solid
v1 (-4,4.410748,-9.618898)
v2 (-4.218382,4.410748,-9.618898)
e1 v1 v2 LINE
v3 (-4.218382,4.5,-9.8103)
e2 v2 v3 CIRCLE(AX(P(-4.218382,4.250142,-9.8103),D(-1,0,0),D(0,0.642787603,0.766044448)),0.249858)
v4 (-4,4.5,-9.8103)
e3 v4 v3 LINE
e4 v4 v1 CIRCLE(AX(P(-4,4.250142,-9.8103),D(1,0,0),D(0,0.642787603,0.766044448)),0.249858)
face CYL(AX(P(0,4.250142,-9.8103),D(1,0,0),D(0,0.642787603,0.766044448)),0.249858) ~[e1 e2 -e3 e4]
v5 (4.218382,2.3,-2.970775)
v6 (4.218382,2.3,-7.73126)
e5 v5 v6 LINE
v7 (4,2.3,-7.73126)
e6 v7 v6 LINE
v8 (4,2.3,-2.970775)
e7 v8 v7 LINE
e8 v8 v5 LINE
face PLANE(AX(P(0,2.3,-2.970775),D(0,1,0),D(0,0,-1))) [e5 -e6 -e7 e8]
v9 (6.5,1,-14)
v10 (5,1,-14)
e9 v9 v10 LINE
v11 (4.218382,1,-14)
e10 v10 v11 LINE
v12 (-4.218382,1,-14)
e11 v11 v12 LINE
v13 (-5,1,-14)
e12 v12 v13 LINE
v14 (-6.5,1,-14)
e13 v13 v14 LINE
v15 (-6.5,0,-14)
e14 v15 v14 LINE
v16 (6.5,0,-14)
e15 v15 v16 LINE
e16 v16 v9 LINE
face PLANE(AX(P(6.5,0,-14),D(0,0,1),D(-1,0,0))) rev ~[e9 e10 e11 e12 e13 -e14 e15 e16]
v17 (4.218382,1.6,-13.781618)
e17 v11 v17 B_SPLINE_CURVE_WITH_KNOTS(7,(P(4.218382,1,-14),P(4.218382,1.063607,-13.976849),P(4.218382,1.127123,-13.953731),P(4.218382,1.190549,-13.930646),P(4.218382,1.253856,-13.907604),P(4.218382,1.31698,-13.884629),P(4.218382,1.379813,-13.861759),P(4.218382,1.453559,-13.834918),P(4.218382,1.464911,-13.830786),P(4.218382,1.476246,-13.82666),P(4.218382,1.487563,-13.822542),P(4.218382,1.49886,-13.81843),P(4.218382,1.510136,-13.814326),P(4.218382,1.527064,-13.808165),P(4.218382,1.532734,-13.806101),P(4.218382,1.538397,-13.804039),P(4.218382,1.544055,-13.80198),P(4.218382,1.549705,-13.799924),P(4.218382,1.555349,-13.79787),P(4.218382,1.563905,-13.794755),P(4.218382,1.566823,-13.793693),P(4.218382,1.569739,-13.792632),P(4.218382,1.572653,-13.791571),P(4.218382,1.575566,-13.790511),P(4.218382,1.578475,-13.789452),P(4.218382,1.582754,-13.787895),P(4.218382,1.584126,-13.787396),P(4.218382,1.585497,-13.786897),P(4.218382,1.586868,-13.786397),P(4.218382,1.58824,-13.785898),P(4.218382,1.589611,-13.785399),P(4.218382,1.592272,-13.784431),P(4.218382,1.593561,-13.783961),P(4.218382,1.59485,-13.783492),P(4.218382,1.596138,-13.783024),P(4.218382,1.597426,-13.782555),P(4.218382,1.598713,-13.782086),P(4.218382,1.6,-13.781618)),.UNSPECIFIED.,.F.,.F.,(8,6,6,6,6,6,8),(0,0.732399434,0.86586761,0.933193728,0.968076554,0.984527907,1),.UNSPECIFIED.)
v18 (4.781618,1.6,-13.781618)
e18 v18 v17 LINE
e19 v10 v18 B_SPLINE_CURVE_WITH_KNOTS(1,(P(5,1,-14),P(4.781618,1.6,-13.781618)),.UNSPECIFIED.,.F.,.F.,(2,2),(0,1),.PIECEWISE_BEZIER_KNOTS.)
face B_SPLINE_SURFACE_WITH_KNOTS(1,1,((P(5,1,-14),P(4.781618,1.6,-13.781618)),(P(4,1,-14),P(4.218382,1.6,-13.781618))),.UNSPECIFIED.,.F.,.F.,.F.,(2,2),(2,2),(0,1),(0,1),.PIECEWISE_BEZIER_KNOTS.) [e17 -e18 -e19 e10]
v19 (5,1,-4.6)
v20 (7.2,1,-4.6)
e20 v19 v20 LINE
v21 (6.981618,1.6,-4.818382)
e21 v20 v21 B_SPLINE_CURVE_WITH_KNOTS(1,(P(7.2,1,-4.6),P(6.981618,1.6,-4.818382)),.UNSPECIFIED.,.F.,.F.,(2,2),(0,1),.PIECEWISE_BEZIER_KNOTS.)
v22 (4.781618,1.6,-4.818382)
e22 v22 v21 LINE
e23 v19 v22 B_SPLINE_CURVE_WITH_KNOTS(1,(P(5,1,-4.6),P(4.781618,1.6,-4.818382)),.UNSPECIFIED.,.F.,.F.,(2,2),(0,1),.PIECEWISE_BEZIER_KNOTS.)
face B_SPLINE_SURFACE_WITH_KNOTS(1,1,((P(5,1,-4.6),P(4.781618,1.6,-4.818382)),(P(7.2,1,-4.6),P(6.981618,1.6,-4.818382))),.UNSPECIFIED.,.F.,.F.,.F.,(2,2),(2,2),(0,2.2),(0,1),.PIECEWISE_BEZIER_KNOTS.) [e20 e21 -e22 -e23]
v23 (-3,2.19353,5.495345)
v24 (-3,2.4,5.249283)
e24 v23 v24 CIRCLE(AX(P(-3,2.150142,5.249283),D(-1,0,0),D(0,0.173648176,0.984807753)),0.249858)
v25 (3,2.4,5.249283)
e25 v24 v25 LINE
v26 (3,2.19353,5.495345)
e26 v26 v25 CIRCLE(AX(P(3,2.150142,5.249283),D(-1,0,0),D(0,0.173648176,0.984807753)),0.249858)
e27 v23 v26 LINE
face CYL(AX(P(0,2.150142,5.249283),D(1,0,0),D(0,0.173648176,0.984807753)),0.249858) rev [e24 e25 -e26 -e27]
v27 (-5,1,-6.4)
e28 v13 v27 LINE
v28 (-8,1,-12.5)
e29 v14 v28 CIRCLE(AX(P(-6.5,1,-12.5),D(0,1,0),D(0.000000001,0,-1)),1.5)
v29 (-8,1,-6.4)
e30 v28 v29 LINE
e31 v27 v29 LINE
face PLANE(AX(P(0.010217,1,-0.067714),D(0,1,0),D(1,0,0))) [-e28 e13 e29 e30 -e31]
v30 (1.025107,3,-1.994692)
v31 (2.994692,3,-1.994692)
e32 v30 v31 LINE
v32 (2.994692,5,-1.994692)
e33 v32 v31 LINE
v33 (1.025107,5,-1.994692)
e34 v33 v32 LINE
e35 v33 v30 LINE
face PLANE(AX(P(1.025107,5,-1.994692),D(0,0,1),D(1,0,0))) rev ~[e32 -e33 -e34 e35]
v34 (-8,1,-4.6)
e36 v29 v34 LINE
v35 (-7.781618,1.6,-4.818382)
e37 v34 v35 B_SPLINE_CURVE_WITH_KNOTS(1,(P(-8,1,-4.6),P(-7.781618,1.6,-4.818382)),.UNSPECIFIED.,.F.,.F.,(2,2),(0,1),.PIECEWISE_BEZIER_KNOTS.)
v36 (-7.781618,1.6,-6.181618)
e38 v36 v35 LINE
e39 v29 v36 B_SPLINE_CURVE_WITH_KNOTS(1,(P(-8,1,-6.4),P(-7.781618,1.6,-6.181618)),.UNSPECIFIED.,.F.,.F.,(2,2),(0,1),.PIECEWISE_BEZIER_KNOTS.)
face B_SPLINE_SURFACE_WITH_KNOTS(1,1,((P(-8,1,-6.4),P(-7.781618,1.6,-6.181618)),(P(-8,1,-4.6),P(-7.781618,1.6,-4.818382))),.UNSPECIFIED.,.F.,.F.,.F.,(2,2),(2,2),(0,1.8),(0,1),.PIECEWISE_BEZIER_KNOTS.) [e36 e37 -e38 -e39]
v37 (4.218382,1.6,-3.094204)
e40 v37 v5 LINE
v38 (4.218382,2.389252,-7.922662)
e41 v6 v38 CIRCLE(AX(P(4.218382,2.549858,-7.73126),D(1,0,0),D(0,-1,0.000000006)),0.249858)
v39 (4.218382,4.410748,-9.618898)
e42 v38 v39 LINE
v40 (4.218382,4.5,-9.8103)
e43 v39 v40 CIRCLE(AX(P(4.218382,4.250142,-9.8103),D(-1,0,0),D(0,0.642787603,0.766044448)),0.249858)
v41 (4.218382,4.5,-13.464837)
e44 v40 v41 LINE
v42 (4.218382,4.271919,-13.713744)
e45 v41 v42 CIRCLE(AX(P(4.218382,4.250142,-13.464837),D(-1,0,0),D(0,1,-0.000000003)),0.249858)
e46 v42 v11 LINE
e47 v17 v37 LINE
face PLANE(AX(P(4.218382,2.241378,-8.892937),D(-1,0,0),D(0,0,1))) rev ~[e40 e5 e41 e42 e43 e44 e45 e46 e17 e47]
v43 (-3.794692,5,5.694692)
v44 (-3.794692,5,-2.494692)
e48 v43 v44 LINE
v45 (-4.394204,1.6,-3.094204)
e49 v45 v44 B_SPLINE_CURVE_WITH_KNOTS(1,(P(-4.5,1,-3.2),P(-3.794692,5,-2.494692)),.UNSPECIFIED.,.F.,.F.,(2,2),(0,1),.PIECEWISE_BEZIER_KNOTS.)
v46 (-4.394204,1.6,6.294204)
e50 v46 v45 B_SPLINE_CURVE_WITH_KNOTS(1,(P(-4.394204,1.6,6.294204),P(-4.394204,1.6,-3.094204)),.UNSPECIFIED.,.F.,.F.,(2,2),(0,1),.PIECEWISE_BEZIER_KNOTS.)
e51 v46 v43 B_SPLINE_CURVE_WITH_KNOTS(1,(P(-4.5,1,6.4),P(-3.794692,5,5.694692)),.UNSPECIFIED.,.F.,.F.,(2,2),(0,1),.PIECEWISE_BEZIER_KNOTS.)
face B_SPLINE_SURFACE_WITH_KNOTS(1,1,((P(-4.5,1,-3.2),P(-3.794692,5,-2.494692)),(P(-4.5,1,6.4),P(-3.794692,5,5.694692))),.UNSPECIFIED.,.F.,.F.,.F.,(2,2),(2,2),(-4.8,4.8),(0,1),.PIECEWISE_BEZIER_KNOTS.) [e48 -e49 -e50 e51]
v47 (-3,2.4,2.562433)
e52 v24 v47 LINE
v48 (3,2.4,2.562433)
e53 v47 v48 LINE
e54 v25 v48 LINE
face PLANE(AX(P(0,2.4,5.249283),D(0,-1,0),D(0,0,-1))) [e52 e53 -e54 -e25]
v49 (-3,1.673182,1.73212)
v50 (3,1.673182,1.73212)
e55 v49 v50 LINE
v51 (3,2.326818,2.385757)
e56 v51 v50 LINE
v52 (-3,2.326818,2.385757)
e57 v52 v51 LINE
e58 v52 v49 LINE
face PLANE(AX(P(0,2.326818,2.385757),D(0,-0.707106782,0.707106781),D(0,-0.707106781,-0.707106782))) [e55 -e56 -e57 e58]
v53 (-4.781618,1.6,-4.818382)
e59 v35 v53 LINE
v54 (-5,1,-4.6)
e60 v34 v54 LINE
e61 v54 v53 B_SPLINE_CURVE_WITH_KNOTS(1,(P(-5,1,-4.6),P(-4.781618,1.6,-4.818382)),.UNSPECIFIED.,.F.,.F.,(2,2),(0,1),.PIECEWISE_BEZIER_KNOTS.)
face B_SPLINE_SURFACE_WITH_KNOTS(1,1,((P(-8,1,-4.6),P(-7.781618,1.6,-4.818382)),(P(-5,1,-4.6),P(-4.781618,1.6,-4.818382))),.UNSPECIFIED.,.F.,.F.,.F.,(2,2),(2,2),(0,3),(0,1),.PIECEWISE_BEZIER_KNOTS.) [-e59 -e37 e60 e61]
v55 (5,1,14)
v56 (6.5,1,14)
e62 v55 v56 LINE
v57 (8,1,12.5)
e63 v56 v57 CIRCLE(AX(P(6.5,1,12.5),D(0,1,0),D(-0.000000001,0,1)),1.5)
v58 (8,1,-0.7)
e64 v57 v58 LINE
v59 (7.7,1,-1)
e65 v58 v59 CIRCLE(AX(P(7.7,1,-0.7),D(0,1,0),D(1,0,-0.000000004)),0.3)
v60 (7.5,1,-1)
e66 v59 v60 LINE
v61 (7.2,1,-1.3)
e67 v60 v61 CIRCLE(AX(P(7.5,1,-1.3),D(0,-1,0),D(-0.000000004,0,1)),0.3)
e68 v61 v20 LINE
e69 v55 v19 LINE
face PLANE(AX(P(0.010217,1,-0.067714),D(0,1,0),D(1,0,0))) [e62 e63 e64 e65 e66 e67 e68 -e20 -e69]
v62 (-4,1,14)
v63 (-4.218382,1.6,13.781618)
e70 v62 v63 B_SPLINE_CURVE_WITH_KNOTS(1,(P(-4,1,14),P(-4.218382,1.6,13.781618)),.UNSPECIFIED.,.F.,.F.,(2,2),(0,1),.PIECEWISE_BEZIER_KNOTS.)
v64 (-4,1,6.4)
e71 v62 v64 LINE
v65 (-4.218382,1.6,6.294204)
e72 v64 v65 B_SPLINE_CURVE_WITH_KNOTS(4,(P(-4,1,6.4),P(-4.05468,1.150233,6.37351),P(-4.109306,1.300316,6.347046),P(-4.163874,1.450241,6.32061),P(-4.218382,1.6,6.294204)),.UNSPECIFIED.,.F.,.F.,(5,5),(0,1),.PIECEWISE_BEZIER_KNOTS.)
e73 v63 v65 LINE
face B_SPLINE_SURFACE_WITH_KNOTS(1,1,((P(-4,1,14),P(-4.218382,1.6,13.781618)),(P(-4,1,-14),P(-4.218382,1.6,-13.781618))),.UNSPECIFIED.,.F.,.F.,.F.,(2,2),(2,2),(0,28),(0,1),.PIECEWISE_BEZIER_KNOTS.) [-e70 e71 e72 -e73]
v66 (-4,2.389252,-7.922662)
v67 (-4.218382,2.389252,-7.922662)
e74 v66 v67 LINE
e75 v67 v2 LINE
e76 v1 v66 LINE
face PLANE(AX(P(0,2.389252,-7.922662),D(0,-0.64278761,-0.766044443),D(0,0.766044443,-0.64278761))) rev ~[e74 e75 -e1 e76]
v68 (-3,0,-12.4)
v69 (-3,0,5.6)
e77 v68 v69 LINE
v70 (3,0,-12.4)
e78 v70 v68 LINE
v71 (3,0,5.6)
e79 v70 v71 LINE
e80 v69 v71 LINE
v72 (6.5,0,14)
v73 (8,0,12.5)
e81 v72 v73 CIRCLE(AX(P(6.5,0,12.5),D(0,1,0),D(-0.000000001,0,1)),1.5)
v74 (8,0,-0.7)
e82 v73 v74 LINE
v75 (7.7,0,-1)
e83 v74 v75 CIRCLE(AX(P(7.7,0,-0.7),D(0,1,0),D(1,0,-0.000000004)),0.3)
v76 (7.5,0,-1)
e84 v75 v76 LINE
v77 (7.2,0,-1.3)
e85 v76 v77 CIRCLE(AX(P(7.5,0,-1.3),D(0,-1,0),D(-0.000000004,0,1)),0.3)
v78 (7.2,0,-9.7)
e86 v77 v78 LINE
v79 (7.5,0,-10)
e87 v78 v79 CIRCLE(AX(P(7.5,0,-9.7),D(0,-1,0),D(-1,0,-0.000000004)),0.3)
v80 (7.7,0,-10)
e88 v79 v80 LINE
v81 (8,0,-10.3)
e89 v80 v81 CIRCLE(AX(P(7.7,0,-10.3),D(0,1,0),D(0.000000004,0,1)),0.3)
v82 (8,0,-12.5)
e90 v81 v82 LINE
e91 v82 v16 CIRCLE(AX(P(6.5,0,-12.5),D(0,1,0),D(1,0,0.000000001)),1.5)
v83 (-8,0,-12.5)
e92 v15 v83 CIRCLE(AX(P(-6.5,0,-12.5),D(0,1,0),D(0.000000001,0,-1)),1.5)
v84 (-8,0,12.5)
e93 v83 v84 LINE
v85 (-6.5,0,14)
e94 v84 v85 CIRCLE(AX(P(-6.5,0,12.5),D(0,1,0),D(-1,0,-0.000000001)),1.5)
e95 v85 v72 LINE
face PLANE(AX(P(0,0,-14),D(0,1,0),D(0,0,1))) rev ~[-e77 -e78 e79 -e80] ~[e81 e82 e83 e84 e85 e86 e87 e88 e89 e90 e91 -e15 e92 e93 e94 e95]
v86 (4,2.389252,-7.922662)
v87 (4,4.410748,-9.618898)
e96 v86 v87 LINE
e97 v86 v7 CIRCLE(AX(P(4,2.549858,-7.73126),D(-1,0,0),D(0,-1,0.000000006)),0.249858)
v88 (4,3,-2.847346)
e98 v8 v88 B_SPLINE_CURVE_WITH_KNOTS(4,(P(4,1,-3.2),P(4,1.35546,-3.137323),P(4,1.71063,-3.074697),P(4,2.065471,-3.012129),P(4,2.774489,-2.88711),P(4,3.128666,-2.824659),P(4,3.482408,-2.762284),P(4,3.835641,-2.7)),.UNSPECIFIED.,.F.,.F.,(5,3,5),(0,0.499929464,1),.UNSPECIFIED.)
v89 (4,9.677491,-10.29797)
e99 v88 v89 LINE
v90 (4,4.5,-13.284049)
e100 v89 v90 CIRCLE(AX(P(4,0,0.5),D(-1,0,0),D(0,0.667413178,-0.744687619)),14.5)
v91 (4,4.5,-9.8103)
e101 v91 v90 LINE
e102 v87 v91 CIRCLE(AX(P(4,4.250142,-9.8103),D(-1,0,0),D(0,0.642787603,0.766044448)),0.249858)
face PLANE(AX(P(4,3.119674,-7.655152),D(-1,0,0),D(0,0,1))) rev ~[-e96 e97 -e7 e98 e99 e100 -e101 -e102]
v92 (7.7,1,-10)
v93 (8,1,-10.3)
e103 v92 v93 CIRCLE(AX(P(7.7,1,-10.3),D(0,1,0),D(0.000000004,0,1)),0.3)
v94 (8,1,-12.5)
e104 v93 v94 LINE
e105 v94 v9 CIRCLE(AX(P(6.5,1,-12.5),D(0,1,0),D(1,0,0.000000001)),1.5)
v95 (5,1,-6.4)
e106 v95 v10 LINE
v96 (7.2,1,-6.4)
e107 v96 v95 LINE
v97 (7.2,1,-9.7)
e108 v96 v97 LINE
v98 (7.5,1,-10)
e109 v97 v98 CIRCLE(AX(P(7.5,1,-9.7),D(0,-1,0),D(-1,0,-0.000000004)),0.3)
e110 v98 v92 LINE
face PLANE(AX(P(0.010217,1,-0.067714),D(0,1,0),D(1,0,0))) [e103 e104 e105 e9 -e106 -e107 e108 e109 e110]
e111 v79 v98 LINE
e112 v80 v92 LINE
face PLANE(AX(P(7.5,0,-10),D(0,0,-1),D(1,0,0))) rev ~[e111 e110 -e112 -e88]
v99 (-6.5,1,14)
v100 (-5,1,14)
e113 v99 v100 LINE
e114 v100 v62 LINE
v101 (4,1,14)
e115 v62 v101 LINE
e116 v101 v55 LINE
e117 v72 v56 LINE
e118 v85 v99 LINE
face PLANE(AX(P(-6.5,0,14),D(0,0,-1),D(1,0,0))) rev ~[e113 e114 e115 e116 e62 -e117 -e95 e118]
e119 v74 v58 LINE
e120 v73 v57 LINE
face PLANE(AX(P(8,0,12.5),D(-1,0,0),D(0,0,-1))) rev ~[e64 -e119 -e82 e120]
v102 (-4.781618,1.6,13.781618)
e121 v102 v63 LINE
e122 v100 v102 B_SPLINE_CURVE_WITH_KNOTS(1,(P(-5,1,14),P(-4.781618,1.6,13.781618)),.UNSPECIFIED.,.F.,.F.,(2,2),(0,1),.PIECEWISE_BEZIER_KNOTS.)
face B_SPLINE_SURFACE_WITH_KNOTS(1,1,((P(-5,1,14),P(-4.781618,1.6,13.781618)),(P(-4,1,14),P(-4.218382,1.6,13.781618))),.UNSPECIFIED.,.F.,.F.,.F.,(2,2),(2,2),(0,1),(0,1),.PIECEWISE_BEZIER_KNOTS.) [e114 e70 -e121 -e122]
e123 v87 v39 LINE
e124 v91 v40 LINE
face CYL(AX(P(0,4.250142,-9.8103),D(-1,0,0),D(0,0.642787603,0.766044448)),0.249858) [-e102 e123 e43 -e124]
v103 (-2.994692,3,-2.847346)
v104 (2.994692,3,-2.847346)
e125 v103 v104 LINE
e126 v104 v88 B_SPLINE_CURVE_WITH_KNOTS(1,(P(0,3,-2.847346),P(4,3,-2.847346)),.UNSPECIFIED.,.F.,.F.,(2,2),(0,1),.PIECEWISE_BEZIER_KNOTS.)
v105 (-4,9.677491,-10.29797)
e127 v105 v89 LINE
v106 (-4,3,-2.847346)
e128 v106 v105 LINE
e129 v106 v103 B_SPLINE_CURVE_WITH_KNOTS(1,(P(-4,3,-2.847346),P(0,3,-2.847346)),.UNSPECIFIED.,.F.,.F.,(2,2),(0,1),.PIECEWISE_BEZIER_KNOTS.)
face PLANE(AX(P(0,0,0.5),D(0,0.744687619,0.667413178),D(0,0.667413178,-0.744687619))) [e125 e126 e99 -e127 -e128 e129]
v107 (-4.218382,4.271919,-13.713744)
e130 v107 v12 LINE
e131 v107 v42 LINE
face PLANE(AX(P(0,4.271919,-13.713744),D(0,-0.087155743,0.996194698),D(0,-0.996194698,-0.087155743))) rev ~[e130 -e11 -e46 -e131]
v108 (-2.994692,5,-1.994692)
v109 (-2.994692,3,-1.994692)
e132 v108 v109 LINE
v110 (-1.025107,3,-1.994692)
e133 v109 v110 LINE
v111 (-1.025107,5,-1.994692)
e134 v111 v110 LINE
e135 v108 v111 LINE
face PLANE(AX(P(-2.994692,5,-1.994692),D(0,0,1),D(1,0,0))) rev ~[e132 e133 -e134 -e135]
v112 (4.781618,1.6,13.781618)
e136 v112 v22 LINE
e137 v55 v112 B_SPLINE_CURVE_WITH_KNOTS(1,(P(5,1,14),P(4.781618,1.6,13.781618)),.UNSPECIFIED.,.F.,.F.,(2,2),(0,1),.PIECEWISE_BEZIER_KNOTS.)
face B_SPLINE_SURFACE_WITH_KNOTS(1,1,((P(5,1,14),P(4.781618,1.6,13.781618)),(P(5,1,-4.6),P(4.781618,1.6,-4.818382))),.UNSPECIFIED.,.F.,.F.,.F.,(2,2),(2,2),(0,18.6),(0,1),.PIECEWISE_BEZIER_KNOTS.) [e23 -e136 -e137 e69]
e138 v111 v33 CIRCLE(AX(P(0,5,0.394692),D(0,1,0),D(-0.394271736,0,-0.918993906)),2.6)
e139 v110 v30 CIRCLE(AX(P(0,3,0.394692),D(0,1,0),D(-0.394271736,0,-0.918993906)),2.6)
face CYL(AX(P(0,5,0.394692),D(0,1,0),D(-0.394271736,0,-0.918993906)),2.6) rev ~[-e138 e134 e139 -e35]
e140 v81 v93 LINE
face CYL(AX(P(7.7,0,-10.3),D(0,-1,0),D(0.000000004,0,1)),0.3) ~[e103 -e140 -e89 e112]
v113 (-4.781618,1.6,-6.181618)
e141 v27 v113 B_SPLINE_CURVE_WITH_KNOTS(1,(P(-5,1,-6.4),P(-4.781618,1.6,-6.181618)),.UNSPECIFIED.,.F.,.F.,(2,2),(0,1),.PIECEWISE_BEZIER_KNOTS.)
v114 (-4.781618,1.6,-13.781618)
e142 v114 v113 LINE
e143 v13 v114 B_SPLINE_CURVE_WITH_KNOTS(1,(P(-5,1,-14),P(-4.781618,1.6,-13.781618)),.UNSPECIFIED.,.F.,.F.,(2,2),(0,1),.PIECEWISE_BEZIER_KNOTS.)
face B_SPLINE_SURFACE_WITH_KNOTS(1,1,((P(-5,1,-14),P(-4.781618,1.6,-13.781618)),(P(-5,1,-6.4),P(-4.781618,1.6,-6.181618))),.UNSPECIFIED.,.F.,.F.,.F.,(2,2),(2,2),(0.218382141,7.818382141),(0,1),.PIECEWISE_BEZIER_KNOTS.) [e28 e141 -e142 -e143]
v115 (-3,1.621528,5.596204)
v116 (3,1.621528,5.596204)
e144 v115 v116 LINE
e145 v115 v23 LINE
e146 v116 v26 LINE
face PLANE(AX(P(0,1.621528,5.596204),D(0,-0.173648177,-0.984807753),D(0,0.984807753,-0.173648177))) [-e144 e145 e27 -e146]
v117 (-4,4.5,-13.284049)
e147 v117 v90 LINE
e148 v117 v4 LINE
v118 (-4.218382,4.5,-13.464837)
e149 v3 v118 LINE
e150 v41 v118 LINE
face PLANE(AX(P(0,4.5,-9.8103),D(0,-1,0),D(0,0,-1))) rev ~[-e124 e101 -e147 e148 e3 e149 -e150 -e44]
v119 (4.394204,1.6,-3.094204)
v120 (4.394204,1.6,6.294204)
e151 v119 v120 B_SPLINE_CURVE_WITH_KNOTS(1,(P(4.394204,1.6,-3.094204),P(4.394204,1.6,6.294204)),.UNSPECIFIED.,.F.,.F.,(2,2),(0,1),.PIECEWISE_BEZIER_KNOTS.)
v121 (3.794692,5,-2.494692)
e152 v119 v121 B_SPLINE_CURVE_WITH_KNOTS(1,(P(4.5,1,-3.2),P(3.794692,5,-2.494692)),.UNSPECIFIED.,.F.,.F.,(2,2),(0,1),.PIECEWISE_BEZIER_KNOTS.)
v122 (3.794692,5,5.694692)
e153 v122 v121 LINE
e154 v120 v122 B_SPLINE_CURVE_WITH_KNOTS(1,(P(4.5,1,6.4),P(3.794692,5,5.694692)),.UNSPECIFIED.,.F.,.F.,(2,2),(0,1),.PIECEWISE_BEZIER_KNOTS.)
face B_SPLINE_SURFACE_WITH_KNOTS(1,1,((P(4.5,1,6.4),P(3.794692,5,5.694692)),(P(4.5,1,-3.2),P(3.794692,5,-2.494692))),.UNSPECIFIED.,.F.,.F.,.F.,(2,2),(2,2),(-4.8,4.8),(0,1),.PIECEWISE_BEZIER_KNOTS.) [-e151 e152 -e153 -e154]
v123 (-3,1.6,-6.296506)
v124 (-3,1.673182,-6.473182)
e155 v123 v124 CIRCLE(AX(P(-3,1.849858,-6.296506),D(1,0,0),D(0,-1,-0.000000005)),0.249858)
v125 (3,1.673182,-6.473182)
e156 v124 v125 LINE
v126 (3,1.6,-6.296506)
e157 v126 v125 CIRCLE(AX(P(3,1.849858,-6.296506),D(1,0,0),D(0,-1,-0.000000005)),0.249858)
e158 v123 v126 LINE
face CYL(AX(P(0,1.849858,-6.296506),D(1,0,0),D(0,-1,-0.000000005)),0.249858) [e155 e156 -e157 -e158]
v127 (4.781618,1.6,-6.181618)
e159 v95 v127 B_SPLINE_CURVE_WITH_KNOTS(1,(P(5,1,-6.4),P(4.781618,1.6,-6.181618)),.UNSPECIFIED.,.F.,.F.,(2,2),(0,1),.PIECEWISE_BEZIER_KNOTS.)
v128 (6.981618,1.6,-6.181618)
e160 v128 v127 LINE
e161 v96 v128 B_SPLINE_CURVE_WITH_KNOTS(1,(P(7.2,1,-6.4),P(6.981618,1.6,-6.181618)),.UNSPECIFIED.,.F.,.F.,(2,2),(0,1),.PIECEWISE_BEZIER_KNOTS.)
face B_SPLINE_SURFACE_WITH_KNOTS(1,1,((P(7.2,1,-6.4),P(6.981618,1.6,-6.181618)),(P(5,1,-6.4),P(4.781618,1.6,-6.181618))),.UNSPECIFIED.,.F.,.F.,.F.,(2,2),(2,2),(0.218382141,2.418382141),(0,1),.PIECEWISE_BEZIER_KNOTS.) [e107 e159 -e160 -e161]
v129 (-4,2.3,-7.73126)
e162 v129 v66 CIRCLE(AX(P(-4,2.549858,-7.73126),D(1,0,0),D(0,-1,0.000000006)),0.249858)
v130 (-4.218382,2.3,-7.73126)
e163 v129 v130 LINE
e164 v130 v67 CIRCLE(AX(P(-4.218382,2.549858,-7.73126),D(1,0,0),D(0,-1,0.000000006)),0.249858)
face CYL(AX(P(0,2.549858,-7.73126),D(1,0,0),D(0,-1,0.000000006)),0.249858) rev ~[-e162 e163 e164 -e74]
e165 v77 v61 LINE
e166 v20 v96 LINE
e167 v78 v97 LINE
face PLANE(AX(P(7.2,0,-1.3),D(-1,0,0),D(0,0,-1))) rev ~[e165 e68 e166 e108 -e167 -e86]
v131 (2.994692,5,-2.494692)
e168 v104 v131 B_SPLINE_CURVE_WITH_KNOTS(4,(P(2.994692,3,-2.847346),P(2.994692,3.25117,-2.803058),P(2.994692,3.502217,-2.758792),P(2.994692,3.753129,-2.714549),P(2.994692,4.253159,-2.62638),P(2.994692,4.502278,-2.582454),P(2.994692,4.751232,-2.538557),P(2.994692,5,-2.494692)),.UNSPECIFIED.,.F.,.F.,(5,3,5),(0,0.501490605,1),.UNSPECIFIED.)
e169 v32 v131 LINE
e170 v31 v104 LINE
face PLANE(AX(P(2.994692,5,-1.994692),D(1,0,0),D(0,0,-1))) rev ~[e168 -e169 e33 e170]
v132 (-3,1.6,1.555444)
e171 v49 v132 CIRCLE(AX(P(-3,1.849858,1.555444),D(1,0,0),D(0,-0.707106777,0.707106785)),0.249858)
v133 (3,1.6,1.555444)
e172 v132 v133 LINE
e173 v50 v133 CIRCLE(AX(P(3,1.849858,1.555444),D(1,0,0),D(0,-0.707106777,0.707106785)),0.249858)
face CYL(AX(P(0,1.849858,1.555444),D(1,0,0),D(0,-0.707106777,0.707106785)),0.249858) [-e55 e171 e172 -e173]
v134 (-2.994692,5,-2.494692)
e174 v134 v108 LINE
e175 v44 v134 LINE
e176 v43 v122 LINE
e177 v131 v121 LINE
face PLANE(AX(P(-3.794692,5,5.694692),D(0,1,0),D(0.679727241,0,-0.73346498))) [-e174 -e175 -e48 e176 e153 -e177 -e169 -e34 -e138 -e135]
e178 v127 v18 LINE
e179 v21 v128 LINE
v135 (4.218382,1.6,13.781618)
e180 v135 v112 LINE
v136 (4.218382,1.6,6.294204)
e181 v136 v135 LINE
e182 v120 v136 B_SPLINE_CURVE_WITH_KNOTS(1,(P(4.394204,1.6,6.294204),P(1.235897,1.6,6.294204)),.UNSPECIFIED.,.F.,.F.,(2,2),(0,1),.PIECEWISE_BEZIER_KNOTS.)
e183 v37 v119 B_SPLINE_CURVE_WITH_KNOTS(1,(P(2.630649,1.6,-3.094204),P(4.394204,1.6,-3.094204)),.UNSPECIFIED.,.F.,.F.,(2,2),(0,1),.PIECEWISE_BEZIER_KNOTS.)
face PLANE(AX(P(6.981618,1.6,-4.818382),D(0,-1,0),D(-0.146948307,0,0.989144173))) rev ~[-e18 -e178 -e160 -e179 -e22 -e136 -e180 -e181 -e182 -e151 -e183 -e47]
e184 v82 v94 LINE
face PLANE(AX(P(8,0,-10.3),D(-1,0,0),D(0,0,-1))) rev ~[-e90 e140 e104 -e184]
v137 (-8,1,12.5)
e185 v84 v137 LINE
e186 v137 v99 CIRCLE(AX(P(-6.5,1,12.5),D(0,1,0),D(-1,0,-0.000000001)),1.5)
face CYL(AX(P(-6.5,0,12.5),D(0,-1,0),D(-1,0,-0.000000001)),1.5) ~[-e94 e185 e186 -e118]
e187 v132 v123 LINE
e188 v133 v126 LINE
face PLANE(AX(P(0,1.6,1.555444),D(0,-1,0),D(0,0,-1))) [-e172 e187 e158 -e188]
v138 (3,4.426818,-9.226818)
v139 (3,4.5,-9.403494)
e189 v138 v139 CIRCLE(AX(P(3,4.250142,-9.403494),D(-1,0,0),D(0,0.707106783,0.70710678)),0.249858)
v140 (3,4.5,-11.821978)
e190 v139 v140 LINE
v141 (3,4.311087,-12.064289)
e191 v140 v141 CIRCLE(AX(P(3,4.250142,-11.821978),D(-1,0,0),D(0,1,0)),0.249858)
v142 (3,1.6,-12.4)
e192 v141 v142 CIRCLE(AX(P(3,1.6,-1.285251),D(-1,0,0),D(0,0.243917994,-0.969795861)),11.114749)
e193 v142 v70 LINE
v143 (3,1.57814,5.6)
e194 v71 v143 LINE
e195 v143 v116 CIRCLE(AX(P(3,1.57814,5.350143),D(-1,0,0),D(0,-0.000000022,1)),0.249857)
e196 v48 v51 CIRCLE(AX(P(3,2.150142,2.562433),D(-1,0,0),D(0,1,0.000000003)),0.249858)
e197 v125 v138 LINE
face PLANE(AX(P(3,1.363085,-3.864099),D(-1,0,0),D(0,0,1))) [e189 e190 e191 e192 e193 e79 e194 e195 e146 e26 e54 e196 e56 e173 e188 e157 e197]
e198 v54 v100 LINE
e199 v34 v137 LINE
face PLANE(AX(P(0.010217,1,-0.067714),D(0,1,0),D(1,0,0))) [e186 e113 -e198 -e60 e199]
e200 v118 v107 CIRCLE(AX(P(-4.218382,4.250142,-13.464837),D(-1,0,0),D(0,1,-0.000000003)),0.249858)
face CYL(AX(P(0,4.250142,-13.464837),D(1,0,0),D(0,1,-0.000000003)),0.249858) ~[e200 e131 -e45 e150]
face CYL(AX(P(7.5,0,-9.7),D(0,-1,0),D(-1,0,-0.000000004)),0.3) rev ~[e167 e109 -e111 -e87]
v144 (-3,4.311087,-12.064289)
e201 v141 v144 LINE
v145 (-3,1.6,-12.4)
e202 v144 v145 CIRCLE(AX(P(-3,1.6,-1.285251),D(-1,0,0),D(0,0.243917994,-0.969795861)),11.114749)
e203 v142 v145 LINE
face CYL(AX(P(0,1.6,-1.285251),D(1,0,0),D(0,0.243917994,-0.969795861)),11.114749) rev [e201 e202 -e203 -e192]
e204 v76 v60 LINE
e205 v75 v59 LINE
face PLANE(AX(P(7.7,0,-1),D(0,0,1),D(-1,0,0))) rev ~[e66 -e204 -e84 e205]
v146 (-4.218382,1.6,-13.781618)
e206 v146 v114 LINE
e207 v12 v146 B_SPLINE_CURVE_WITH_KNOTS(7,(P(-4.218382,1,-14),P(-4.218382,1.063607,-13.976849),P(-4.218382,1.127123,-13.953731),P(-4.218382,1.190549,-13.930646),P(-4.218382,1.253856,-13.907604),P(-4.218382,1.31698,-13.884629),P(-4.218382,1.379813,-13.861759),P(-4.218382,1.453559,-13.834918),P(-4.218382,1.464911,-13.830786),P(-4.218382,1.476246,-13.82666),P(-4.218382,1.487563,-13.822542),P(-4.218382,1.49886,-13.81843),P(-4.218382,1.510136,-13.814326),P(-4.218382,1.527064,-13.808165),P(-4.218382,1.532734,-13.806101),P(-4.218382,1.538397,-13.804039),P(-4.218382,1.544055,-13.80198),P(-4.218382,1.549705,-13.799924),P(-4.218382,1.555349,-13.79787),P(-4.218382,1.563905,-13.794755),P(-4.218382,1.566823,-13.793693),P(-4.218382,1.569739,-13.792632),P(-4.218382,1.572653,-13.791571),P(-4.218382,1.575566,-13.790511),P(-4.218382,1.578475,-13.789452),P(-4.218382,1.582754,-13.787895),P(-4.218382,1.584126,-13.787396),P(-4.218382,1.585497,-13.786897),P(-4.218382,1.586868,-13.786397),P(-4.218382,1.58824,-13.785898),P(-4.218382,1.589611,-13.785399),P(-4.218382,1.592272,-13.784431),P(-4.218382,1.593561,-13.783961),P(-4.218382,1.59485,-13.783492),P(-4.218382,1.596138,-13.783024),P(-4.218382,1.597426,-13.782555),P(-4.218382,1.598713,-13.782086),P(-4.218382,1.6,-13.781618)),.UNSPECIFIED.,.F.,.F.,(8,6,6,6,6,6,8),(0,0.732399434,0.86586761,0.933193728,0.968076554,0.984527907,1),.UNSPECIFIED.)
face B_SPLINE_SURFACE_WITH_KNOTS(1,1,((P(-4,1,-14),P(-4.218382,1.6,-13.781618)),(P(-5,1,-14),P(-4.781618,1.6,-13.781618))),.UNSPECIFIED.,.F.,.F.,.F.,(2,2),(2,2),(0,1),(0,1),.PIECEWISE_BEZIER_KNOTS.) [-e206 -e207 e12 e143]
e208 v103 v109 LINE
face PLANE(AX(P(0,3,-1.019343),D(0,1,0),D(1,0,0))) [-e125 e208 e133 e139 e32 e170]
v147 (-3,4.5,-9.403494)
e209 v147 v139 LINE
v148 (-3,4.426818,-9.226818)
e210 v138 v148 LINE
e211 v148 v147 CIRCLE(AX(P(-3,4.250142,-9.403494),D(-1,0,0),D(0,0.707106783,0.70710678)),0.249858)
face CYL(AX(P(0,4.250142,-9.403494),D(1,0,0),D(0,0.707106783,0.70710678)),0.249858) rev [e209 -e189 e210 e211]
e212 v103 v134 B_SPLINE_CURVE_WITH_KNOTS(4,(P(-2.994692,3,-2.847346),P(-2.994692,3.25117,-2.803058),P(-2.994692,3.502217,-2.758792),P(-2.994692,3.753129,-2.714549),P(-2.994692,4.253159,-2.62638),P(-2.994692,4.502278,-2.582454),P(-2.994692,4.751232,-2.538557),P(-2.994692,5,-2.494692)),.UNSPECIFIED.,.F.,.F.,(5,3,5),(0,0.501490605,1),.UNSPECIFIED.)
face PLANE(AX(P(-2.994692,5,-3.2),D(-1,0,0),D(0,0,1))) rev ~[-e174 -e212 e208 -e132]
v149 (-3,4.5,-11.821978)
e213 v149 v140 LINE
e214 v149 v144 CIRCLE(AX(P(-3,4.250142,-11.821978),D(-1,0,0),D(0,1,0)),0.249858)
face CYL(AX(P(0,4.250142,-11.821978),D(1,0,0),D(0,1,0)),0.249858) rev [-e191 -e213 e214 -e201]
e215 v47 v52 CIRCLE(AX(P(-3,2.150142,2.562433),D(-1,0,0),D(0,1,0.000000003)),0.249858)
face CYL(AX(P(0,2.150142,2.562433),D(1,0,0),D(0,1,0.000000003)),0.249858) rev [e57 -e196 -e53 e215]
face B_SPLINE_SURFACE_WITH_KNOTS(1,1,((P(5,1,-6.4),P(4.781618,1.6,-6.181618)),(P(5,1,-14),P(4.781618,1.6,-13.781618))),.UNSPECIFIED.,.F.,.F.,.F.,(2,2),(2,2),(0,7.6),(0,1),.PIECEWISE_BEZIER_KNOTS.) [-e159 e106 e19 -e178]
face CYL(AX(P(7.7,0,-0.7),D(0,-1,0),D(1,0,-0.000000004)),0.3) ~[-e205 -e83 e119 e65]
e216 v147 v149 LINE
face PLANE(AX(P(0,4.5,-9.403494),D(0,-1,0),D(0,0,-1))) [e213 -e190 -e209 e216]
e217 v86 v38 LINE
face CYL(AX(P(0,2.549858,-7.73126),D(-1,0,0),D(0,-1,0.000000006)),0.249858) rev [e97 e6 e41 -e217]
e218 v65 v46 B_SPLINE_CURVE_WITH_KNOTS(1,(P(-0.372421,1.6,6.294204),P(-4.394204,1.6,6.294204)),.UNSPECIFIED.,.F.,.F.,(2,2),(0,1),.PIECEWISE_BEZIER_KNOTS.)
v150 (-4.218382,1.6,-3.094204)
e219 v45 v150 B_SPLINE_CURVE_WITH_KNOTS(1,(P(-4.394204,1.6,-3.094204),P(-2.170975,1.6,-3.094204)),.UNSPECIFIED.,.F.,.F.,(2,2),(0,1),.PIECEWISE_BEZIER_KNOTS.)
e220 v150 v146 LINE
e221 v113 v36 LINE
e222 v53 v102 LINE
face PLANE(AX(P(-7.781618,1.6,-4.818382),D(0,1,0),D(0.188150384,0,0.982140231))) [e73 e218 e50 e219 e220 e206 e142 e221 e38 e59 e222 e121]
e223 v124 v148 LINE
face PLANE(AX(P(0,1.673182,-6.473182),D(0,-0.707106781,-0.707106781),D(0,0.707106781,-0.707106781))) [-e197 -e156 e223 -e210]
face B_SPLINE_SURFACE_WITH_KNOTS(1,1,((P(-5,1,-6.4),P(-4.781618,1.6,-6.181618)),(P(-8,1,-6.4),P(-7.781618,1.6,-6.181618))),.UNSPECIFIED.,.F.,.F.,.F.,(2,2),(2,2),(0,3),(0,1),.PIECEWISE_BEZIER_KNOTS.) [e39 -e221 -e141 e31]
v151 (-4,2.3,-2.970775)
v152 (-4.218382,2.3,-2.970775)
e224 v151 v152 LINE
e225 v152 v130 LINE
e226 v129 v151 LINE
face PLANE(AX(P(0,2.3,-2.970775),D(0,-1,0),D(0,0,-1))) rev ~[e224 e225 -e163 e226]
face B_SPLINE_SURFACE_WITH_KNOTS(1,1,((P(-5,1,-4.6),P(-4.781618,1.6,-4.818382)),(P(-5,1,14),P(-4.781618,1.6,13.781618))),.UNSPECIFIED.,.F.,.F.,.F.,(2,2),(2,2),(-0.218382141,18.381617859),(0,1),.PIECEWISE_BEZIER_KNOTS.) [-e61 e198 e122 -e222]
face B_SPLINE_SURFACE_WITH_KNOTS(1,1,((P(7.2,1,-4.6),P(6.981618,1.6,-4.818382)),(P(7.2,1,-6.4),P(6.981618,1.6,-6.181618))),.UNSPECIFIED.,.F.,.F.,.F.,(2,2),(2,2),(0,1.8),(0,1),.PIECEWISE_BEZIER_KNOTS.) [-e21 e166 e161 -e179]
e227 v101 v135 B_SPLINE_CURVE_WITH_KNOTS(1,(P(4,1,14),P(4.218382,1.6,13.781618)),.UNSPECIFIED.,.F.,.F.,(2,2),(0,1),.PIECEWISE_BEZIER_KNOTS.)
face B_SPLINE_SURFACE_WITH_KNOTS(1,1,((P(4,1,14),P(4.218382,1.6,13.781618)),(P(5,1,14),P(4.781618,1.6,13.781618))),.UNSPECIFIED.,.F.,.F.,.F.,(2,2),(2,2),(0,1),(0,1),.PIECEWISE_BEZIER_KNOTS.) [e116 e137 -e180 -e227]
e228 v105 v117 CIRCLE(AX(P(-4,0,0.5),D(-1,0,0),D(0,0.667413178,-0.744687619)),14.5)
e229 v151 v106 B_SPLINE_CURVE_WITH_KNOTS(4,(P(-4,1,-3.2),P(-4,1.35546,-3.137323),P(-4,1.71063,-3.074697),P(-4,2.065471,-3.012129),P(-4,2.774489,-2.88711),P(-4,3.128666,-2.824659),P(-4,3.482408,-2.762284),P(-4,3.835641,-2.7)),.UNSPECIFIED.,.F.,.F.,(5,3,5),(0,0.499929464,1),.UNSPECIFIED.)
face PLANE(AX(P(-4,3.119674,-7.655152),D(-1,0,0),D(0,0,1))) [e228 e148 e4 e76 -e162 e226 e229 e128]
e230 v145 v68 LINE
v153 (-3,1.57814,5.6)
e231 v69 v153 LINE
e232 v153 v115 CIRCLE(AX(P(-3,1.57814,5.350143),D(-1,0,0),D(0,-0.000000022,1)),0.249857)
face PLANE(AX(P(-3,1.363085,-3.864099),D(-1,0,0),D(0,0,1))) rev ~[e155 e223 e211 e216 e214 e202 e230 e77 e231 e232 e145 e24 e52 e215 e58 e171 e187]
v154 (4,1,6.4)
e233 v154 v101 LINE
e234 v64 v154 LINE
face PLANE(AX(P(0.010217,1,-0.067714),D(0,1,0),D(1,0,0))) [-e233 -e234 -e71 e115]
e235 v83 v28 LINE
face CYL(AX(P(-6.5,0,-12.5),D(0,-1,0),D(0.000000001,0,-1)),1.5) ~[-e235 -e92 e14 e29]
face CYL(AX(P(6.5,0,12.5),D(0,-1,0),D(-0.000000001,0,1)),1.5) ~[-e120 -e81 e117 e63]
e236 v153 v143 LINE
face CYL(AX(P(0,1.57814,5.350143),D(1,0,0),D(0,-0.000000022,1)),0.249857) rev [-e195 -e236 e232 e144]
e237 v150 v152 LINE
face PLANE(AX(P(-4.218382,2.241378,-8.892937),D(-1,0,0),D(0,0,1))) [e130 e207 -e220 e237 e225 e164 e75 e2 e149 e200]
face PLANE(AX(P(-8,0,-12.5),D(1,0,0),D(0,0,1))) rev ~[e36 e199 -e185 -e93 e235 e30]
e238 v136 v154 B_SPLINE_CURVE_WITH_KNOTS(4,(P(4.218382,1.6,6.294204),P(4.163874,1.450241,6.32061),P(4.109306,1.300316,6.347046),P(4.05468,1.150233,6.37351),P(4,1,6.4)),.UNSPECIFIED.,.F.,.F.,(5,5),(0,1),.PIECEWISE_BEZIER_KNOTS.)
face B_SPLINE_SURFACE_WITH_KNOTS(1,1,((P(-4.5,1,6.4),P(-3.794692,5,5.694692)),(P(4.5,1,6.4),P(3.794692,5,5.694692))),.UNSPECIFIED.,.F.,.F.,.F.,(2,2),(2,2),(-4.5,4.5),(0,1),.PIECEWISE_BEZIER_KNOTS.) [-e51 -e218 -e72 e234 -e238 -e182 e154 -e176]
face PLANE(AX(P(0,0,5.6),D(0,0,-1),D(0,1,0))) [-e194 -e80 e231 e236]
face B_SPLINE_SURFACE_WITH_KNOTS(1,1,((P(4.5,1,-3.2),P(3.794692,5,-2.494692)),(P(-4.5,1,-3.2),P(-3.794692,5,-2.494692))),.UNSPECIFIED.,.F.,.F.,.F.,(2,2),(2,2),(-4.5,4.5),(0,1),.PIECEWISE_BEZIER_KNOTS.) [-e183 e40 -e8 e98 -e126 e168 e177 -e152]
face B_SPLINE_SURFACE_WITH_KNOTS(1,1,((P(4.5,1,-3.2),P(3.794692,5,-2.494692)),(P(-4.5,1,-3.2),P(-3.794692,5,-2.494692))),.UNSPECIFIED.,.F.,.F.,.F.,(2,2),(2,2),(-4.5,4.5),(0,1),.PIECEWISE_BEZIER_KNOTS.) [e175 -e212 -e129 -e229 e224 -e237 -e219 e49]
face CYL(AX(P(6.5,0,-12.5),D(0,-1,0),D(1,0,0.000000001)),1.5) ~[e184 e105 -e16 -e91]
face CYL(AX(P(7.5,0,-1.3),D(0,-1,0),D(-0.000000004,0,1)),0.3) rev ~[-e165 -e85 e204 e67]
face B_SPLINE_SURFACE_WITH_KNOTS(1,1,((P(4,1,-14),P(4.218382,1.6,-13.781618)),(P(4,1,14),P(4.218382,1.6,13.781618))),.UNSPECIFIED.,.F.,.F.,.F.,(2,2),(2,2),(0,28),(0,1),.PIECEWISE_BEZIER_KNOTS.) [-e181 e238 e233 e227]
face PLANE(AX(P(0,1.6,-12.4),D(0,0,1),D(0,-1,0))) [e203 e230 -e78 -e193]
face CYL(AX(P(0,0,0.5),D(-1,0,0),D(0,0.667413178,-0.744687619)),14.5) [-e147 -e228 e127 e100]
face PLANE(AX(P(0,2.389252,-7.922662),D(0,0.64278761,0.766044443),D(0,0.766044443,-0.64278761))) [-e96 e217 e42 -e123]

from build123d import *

# Parameters (mm, degrees)
BOSS_EXTRUDE1_DEPTH      = 1
BOSS_EXTRUDE2_DEPTH      = 0.6
BOSS_EXTRUDE2_TAPER      = 20
SKETCH4_W                = 9
SKETCH4_H                = 9.6
BOSS_EXTRUDE3_DEPTH      = 4
BOSS_EXTRUDE3_TAPER      = 10
CUT_EXTRUDE1_DEPTH       = 2
BOSS_EXTRUDE4_DEPTH      = 4
BOSS_EXTRUDE4_DEPTH_BACK = 4
BOSS_EXTRUDE5_DEPTH      = 4.218382
BOSS_EXTRUDE5_DEPTH_BACK = 4.218382
CUT_EXTRUDE2_DEPTH       = 3
CUT_EXTRUDE2_DEPTH_BACK  = 3


with BuildPart() as part:
    # Sketch1 → Boss-Extrude1 (new body)
    with BuildSketch(Plane(origin=(0, 0, 0), x_dir=(1, 0, 0), z_dir=(0, 1, 0))):
        with BuildLine():
            Line((8, 10.3), (8, 12.5))
            ThreePointArc((8, 12.5), (7.560660172, 13.560660172), (6.5, 14))
            Line((6.5, 14), (-6.5, 14))
            ThreePointArc((-6.5, 14), (-7.560660172, 13.560660172), (-8, 12.5))
            Line((-8, 12.5), (-8, -12.5))
            ThreePointArc((-8, -12.5), (-7.560660172, -13.560660172), (-6.5, -14))
            Line((-6.5, -14), (6.5, -14))
            ThreePointArc((6.5, -14), (7.560660172, -13.560660172), (8, -12.5))
            Line((8, -12.5), (8, 0.7))
            ThreePointArc((8, 0.7), (7.912132034, 0.912132034), (7.7, 1))
            Line((7.7, 1), (7.5, 1))
            ThreePointArc((7.5, 1), (7.287867966, 1.087867966), (7.2, 1.3))
            Line((7.2, 1.3), (7.2, 9.7))
            ThreePointArc((7.2, 9.7), (7.287867966, 9.912132034), (7.5, 10))
            Line((7.5, 10), (7.7, 10))
            ThreePointArc((7.7, 10), (7.912132034, 10.087867966), (8, 10.3))
        make_face()
    extrude(amount=BOSS_EXTRUDE1_DEPTH)

    # Sketch2 → Boss-Extrude2 (add)
    with BuildSketch(Plane(origin=(0, 1, 0), x_dir=(1, 0, 0), z_dir=(0, 1, 0))):
        Polygon((-8, 4.6), (-5, 4.6), (-5, -14), (-4, -14), (-4, 4.6), (-4, 6.4), (-4, 14), (-5, 14), (-5, 6.4), (-8, 6.4), align=None)
        Polygon((7.2, 4.6), (7.2, 6.4), (5, 6.4), (5, 14), (4, 14), (4, 6.4), (4, 4.6), (4, -14), (5, -14), (5, 4.6), align=None)
    extrude(amount=BOSS_EXTRUDE2_DEPTH, taper=BOSS_EXTRUDE2_TAPER)

    # Sketch4 → Boss-Extrude3 (add)
    with BuildSketch(Plane(origin=(0, 1, 0), x_dir=(1, 0, 0), z_dir=(0, 1, 0))):
        with Locations((0, -1.6)):
            Rectangle(SKETCH4_W, SKETCH4_H)
    extrude(amount=BOSS_EXTRUDE3_DEPTH, taper=BOSS_EXTRUDE3_TAPER)

    # Sketch5 → Cut-Extrude1 (cut)
    with BuildSketch(Plane(origin=(0, 5, 0), x_dir=(1, 0, 0), z_dir=(0, 1, 0))):
        with BuildLine():
            Line((-2.994692077, 1.994692077), (-1.025106513, 1.994692077))
            ThreePointArc((-1.025106513, 1.994692077), (0, -2.994692077), (1.025106513, 1.994692077))
            Line((1.025106513, 1.994692077), (2.994692077, 1.994692077))
            Line((2.994692077, 1.994692077), (2.994692077, 2.494692077))
            Line((2.994692077, 2.494692077), (2.994692077, 3.2))
            Line((2.994692077, 3.2), (-2.994692077, 3.2))
            Line((-2.994692077, 3.2), (-2.994692077, 2.494692077))
            Line((-2.994692077, 2.494692077), (-2.994692077, 1.994692077))
        make_face()
    extrude(amount=-CUT_EXTRUDE1_DEPTH, mode=Mode.SUBTRACT)

    # Sketch6 → Boss-Extrude4 (add, two sides)
    with BuildSketch(Plane(origin=(0, 0, 0), x_dir=(0, 0, -1), z_dir=(1, 0, 0))) as boss_extrude4_sk:
        with BuildLine():
            Line((-0.5, 0), (10.297970476, 9.67749108))
            ThreePointArc((10.297970476, 9.67749108), (13.042905373, 5.180705941), (14, 0))
            Line((14, 0), (-0.5, 0))
        make_face()
    extrude(amount=BOSS_EXTRUDE4_DEPTH)
    extrude(boss_extrude4_sk.sketch, amount=-BOSS_EXTRUDE4_DEPTH_BACK)

    # Sketch7 → Boss-Extrude5 (add, two sides)
    with BuildSketch(Plane(origin=(0, 0, 0), x_dir=(0, 0, -1), z_dir=(1, 0, 0))) as boss_extrude5_sk:
        with BuildLine():
            Line((2.970774925, 2.3), (7.731260017, 2.3))
            ThreePointArc((7.731260017, 2.3), (7.836854365, 2.323409703), (7.922661977, 2.3892522))
            Line((7.922661977, 2.3892522), (9.61889819, 4.4107478))
            ThreePointArc((9.61889819, 4.4107478), (9.704705802, 4.476590297), (9.81030015, 4.5))
            Line((9.81030015, 4.5), (13.464837448, 4.5))
            ThreePointArc((13.464837448, 4.5), (13.633638738, 4.434356768), (13.713744179, 4.271919003))
            Line((13.713744179, 4.271919003), (14, 1))
            Line((14, 1), (3.2, 1))
            Line((3.2, 1), (2.970774925, 2.3))
        make_face()
    extrude(amount=BOSS_EXTRUDE5_DEPTH)
    extrude(boss_extrude5_sk.sketch, amount=-BOSS_EXTRUDE5_DEPTH_BACK)

    # Sketch9 → Cut-Extrude2 (cut, two sides)
    with BuildSketch(Plane(origin=(0, 0, 0), x_dir=(0, 0, -1), z_dir=(1, 0, 0))) as cut_extrude2_sk:
        with BuildLine():
            ThreePointArc((9.226818428, 4.426818428), (9.30787804, 4.480980729), (9.403494371, 4.5))
            Line((9.403494371, 4.5), (11.8219778, 4.5))
            ThreePointArc((11.8219778, 4.5), (11.97560279, 4.447191058), (12.064288583, 4.311087229))
            ThreePointArc((12.064288583, 4.311087229), (12.315752859, 2.965896786), (12.4, 1.6))
            Line((12.4, 1.6), (12.4, 0))
            Line((12.4, 0), (-5.6, 0))
            Line((-5.6, 0), (-5.6, 1.5781403))
            ThreePointArc((-5.6, 1.5781403), (-5.599049217, 1.599916817), (-5.596204103, 1.621527602))
            Line((-5.596204103, 1.621527602), (-5.495344685, 2.193529787))
            ThreePointArc((-5.495344685, 2.193529787), (-5.409888382, 2.341544446), (-5.249283067, 2.4))
            Line((-5.249283067, 2.4), (-2.562432787, 2.4))
            ThreePointArc((-2.562432787, 2.4), (-2.466816455, 2.380980729), (-2.385756844, 2.326818428))
            Line((-2.385756844, 2.326818428), (-1.732119987, 1.673181572))
            ThreePointArc((-1.732119987, 1.673181572), (-1.651060376, 1.619019271), (-1.555444044, 1.6))
            Line((-1.555444044, 1.6), (6.296505629, 1.6))
            ThreePointArc((6.296505629, 1.6), (6.39212196, 1.619019271), (6.473181572, 1.673181572))
            Line((6.473181572, 1.673181572), (9.226818428, 4.426818428))
        make_face()
    extrude(amount=CUT_EXTRUDE2_DEPTH, mode=Mode.SUBTRACT)
    extrude(cut_extrude2_sk.sketch, amount=-CUT_EXTRUDE2_DEPTH_BACK, mode=Mode.SUBTRACT)


solid = part.part
